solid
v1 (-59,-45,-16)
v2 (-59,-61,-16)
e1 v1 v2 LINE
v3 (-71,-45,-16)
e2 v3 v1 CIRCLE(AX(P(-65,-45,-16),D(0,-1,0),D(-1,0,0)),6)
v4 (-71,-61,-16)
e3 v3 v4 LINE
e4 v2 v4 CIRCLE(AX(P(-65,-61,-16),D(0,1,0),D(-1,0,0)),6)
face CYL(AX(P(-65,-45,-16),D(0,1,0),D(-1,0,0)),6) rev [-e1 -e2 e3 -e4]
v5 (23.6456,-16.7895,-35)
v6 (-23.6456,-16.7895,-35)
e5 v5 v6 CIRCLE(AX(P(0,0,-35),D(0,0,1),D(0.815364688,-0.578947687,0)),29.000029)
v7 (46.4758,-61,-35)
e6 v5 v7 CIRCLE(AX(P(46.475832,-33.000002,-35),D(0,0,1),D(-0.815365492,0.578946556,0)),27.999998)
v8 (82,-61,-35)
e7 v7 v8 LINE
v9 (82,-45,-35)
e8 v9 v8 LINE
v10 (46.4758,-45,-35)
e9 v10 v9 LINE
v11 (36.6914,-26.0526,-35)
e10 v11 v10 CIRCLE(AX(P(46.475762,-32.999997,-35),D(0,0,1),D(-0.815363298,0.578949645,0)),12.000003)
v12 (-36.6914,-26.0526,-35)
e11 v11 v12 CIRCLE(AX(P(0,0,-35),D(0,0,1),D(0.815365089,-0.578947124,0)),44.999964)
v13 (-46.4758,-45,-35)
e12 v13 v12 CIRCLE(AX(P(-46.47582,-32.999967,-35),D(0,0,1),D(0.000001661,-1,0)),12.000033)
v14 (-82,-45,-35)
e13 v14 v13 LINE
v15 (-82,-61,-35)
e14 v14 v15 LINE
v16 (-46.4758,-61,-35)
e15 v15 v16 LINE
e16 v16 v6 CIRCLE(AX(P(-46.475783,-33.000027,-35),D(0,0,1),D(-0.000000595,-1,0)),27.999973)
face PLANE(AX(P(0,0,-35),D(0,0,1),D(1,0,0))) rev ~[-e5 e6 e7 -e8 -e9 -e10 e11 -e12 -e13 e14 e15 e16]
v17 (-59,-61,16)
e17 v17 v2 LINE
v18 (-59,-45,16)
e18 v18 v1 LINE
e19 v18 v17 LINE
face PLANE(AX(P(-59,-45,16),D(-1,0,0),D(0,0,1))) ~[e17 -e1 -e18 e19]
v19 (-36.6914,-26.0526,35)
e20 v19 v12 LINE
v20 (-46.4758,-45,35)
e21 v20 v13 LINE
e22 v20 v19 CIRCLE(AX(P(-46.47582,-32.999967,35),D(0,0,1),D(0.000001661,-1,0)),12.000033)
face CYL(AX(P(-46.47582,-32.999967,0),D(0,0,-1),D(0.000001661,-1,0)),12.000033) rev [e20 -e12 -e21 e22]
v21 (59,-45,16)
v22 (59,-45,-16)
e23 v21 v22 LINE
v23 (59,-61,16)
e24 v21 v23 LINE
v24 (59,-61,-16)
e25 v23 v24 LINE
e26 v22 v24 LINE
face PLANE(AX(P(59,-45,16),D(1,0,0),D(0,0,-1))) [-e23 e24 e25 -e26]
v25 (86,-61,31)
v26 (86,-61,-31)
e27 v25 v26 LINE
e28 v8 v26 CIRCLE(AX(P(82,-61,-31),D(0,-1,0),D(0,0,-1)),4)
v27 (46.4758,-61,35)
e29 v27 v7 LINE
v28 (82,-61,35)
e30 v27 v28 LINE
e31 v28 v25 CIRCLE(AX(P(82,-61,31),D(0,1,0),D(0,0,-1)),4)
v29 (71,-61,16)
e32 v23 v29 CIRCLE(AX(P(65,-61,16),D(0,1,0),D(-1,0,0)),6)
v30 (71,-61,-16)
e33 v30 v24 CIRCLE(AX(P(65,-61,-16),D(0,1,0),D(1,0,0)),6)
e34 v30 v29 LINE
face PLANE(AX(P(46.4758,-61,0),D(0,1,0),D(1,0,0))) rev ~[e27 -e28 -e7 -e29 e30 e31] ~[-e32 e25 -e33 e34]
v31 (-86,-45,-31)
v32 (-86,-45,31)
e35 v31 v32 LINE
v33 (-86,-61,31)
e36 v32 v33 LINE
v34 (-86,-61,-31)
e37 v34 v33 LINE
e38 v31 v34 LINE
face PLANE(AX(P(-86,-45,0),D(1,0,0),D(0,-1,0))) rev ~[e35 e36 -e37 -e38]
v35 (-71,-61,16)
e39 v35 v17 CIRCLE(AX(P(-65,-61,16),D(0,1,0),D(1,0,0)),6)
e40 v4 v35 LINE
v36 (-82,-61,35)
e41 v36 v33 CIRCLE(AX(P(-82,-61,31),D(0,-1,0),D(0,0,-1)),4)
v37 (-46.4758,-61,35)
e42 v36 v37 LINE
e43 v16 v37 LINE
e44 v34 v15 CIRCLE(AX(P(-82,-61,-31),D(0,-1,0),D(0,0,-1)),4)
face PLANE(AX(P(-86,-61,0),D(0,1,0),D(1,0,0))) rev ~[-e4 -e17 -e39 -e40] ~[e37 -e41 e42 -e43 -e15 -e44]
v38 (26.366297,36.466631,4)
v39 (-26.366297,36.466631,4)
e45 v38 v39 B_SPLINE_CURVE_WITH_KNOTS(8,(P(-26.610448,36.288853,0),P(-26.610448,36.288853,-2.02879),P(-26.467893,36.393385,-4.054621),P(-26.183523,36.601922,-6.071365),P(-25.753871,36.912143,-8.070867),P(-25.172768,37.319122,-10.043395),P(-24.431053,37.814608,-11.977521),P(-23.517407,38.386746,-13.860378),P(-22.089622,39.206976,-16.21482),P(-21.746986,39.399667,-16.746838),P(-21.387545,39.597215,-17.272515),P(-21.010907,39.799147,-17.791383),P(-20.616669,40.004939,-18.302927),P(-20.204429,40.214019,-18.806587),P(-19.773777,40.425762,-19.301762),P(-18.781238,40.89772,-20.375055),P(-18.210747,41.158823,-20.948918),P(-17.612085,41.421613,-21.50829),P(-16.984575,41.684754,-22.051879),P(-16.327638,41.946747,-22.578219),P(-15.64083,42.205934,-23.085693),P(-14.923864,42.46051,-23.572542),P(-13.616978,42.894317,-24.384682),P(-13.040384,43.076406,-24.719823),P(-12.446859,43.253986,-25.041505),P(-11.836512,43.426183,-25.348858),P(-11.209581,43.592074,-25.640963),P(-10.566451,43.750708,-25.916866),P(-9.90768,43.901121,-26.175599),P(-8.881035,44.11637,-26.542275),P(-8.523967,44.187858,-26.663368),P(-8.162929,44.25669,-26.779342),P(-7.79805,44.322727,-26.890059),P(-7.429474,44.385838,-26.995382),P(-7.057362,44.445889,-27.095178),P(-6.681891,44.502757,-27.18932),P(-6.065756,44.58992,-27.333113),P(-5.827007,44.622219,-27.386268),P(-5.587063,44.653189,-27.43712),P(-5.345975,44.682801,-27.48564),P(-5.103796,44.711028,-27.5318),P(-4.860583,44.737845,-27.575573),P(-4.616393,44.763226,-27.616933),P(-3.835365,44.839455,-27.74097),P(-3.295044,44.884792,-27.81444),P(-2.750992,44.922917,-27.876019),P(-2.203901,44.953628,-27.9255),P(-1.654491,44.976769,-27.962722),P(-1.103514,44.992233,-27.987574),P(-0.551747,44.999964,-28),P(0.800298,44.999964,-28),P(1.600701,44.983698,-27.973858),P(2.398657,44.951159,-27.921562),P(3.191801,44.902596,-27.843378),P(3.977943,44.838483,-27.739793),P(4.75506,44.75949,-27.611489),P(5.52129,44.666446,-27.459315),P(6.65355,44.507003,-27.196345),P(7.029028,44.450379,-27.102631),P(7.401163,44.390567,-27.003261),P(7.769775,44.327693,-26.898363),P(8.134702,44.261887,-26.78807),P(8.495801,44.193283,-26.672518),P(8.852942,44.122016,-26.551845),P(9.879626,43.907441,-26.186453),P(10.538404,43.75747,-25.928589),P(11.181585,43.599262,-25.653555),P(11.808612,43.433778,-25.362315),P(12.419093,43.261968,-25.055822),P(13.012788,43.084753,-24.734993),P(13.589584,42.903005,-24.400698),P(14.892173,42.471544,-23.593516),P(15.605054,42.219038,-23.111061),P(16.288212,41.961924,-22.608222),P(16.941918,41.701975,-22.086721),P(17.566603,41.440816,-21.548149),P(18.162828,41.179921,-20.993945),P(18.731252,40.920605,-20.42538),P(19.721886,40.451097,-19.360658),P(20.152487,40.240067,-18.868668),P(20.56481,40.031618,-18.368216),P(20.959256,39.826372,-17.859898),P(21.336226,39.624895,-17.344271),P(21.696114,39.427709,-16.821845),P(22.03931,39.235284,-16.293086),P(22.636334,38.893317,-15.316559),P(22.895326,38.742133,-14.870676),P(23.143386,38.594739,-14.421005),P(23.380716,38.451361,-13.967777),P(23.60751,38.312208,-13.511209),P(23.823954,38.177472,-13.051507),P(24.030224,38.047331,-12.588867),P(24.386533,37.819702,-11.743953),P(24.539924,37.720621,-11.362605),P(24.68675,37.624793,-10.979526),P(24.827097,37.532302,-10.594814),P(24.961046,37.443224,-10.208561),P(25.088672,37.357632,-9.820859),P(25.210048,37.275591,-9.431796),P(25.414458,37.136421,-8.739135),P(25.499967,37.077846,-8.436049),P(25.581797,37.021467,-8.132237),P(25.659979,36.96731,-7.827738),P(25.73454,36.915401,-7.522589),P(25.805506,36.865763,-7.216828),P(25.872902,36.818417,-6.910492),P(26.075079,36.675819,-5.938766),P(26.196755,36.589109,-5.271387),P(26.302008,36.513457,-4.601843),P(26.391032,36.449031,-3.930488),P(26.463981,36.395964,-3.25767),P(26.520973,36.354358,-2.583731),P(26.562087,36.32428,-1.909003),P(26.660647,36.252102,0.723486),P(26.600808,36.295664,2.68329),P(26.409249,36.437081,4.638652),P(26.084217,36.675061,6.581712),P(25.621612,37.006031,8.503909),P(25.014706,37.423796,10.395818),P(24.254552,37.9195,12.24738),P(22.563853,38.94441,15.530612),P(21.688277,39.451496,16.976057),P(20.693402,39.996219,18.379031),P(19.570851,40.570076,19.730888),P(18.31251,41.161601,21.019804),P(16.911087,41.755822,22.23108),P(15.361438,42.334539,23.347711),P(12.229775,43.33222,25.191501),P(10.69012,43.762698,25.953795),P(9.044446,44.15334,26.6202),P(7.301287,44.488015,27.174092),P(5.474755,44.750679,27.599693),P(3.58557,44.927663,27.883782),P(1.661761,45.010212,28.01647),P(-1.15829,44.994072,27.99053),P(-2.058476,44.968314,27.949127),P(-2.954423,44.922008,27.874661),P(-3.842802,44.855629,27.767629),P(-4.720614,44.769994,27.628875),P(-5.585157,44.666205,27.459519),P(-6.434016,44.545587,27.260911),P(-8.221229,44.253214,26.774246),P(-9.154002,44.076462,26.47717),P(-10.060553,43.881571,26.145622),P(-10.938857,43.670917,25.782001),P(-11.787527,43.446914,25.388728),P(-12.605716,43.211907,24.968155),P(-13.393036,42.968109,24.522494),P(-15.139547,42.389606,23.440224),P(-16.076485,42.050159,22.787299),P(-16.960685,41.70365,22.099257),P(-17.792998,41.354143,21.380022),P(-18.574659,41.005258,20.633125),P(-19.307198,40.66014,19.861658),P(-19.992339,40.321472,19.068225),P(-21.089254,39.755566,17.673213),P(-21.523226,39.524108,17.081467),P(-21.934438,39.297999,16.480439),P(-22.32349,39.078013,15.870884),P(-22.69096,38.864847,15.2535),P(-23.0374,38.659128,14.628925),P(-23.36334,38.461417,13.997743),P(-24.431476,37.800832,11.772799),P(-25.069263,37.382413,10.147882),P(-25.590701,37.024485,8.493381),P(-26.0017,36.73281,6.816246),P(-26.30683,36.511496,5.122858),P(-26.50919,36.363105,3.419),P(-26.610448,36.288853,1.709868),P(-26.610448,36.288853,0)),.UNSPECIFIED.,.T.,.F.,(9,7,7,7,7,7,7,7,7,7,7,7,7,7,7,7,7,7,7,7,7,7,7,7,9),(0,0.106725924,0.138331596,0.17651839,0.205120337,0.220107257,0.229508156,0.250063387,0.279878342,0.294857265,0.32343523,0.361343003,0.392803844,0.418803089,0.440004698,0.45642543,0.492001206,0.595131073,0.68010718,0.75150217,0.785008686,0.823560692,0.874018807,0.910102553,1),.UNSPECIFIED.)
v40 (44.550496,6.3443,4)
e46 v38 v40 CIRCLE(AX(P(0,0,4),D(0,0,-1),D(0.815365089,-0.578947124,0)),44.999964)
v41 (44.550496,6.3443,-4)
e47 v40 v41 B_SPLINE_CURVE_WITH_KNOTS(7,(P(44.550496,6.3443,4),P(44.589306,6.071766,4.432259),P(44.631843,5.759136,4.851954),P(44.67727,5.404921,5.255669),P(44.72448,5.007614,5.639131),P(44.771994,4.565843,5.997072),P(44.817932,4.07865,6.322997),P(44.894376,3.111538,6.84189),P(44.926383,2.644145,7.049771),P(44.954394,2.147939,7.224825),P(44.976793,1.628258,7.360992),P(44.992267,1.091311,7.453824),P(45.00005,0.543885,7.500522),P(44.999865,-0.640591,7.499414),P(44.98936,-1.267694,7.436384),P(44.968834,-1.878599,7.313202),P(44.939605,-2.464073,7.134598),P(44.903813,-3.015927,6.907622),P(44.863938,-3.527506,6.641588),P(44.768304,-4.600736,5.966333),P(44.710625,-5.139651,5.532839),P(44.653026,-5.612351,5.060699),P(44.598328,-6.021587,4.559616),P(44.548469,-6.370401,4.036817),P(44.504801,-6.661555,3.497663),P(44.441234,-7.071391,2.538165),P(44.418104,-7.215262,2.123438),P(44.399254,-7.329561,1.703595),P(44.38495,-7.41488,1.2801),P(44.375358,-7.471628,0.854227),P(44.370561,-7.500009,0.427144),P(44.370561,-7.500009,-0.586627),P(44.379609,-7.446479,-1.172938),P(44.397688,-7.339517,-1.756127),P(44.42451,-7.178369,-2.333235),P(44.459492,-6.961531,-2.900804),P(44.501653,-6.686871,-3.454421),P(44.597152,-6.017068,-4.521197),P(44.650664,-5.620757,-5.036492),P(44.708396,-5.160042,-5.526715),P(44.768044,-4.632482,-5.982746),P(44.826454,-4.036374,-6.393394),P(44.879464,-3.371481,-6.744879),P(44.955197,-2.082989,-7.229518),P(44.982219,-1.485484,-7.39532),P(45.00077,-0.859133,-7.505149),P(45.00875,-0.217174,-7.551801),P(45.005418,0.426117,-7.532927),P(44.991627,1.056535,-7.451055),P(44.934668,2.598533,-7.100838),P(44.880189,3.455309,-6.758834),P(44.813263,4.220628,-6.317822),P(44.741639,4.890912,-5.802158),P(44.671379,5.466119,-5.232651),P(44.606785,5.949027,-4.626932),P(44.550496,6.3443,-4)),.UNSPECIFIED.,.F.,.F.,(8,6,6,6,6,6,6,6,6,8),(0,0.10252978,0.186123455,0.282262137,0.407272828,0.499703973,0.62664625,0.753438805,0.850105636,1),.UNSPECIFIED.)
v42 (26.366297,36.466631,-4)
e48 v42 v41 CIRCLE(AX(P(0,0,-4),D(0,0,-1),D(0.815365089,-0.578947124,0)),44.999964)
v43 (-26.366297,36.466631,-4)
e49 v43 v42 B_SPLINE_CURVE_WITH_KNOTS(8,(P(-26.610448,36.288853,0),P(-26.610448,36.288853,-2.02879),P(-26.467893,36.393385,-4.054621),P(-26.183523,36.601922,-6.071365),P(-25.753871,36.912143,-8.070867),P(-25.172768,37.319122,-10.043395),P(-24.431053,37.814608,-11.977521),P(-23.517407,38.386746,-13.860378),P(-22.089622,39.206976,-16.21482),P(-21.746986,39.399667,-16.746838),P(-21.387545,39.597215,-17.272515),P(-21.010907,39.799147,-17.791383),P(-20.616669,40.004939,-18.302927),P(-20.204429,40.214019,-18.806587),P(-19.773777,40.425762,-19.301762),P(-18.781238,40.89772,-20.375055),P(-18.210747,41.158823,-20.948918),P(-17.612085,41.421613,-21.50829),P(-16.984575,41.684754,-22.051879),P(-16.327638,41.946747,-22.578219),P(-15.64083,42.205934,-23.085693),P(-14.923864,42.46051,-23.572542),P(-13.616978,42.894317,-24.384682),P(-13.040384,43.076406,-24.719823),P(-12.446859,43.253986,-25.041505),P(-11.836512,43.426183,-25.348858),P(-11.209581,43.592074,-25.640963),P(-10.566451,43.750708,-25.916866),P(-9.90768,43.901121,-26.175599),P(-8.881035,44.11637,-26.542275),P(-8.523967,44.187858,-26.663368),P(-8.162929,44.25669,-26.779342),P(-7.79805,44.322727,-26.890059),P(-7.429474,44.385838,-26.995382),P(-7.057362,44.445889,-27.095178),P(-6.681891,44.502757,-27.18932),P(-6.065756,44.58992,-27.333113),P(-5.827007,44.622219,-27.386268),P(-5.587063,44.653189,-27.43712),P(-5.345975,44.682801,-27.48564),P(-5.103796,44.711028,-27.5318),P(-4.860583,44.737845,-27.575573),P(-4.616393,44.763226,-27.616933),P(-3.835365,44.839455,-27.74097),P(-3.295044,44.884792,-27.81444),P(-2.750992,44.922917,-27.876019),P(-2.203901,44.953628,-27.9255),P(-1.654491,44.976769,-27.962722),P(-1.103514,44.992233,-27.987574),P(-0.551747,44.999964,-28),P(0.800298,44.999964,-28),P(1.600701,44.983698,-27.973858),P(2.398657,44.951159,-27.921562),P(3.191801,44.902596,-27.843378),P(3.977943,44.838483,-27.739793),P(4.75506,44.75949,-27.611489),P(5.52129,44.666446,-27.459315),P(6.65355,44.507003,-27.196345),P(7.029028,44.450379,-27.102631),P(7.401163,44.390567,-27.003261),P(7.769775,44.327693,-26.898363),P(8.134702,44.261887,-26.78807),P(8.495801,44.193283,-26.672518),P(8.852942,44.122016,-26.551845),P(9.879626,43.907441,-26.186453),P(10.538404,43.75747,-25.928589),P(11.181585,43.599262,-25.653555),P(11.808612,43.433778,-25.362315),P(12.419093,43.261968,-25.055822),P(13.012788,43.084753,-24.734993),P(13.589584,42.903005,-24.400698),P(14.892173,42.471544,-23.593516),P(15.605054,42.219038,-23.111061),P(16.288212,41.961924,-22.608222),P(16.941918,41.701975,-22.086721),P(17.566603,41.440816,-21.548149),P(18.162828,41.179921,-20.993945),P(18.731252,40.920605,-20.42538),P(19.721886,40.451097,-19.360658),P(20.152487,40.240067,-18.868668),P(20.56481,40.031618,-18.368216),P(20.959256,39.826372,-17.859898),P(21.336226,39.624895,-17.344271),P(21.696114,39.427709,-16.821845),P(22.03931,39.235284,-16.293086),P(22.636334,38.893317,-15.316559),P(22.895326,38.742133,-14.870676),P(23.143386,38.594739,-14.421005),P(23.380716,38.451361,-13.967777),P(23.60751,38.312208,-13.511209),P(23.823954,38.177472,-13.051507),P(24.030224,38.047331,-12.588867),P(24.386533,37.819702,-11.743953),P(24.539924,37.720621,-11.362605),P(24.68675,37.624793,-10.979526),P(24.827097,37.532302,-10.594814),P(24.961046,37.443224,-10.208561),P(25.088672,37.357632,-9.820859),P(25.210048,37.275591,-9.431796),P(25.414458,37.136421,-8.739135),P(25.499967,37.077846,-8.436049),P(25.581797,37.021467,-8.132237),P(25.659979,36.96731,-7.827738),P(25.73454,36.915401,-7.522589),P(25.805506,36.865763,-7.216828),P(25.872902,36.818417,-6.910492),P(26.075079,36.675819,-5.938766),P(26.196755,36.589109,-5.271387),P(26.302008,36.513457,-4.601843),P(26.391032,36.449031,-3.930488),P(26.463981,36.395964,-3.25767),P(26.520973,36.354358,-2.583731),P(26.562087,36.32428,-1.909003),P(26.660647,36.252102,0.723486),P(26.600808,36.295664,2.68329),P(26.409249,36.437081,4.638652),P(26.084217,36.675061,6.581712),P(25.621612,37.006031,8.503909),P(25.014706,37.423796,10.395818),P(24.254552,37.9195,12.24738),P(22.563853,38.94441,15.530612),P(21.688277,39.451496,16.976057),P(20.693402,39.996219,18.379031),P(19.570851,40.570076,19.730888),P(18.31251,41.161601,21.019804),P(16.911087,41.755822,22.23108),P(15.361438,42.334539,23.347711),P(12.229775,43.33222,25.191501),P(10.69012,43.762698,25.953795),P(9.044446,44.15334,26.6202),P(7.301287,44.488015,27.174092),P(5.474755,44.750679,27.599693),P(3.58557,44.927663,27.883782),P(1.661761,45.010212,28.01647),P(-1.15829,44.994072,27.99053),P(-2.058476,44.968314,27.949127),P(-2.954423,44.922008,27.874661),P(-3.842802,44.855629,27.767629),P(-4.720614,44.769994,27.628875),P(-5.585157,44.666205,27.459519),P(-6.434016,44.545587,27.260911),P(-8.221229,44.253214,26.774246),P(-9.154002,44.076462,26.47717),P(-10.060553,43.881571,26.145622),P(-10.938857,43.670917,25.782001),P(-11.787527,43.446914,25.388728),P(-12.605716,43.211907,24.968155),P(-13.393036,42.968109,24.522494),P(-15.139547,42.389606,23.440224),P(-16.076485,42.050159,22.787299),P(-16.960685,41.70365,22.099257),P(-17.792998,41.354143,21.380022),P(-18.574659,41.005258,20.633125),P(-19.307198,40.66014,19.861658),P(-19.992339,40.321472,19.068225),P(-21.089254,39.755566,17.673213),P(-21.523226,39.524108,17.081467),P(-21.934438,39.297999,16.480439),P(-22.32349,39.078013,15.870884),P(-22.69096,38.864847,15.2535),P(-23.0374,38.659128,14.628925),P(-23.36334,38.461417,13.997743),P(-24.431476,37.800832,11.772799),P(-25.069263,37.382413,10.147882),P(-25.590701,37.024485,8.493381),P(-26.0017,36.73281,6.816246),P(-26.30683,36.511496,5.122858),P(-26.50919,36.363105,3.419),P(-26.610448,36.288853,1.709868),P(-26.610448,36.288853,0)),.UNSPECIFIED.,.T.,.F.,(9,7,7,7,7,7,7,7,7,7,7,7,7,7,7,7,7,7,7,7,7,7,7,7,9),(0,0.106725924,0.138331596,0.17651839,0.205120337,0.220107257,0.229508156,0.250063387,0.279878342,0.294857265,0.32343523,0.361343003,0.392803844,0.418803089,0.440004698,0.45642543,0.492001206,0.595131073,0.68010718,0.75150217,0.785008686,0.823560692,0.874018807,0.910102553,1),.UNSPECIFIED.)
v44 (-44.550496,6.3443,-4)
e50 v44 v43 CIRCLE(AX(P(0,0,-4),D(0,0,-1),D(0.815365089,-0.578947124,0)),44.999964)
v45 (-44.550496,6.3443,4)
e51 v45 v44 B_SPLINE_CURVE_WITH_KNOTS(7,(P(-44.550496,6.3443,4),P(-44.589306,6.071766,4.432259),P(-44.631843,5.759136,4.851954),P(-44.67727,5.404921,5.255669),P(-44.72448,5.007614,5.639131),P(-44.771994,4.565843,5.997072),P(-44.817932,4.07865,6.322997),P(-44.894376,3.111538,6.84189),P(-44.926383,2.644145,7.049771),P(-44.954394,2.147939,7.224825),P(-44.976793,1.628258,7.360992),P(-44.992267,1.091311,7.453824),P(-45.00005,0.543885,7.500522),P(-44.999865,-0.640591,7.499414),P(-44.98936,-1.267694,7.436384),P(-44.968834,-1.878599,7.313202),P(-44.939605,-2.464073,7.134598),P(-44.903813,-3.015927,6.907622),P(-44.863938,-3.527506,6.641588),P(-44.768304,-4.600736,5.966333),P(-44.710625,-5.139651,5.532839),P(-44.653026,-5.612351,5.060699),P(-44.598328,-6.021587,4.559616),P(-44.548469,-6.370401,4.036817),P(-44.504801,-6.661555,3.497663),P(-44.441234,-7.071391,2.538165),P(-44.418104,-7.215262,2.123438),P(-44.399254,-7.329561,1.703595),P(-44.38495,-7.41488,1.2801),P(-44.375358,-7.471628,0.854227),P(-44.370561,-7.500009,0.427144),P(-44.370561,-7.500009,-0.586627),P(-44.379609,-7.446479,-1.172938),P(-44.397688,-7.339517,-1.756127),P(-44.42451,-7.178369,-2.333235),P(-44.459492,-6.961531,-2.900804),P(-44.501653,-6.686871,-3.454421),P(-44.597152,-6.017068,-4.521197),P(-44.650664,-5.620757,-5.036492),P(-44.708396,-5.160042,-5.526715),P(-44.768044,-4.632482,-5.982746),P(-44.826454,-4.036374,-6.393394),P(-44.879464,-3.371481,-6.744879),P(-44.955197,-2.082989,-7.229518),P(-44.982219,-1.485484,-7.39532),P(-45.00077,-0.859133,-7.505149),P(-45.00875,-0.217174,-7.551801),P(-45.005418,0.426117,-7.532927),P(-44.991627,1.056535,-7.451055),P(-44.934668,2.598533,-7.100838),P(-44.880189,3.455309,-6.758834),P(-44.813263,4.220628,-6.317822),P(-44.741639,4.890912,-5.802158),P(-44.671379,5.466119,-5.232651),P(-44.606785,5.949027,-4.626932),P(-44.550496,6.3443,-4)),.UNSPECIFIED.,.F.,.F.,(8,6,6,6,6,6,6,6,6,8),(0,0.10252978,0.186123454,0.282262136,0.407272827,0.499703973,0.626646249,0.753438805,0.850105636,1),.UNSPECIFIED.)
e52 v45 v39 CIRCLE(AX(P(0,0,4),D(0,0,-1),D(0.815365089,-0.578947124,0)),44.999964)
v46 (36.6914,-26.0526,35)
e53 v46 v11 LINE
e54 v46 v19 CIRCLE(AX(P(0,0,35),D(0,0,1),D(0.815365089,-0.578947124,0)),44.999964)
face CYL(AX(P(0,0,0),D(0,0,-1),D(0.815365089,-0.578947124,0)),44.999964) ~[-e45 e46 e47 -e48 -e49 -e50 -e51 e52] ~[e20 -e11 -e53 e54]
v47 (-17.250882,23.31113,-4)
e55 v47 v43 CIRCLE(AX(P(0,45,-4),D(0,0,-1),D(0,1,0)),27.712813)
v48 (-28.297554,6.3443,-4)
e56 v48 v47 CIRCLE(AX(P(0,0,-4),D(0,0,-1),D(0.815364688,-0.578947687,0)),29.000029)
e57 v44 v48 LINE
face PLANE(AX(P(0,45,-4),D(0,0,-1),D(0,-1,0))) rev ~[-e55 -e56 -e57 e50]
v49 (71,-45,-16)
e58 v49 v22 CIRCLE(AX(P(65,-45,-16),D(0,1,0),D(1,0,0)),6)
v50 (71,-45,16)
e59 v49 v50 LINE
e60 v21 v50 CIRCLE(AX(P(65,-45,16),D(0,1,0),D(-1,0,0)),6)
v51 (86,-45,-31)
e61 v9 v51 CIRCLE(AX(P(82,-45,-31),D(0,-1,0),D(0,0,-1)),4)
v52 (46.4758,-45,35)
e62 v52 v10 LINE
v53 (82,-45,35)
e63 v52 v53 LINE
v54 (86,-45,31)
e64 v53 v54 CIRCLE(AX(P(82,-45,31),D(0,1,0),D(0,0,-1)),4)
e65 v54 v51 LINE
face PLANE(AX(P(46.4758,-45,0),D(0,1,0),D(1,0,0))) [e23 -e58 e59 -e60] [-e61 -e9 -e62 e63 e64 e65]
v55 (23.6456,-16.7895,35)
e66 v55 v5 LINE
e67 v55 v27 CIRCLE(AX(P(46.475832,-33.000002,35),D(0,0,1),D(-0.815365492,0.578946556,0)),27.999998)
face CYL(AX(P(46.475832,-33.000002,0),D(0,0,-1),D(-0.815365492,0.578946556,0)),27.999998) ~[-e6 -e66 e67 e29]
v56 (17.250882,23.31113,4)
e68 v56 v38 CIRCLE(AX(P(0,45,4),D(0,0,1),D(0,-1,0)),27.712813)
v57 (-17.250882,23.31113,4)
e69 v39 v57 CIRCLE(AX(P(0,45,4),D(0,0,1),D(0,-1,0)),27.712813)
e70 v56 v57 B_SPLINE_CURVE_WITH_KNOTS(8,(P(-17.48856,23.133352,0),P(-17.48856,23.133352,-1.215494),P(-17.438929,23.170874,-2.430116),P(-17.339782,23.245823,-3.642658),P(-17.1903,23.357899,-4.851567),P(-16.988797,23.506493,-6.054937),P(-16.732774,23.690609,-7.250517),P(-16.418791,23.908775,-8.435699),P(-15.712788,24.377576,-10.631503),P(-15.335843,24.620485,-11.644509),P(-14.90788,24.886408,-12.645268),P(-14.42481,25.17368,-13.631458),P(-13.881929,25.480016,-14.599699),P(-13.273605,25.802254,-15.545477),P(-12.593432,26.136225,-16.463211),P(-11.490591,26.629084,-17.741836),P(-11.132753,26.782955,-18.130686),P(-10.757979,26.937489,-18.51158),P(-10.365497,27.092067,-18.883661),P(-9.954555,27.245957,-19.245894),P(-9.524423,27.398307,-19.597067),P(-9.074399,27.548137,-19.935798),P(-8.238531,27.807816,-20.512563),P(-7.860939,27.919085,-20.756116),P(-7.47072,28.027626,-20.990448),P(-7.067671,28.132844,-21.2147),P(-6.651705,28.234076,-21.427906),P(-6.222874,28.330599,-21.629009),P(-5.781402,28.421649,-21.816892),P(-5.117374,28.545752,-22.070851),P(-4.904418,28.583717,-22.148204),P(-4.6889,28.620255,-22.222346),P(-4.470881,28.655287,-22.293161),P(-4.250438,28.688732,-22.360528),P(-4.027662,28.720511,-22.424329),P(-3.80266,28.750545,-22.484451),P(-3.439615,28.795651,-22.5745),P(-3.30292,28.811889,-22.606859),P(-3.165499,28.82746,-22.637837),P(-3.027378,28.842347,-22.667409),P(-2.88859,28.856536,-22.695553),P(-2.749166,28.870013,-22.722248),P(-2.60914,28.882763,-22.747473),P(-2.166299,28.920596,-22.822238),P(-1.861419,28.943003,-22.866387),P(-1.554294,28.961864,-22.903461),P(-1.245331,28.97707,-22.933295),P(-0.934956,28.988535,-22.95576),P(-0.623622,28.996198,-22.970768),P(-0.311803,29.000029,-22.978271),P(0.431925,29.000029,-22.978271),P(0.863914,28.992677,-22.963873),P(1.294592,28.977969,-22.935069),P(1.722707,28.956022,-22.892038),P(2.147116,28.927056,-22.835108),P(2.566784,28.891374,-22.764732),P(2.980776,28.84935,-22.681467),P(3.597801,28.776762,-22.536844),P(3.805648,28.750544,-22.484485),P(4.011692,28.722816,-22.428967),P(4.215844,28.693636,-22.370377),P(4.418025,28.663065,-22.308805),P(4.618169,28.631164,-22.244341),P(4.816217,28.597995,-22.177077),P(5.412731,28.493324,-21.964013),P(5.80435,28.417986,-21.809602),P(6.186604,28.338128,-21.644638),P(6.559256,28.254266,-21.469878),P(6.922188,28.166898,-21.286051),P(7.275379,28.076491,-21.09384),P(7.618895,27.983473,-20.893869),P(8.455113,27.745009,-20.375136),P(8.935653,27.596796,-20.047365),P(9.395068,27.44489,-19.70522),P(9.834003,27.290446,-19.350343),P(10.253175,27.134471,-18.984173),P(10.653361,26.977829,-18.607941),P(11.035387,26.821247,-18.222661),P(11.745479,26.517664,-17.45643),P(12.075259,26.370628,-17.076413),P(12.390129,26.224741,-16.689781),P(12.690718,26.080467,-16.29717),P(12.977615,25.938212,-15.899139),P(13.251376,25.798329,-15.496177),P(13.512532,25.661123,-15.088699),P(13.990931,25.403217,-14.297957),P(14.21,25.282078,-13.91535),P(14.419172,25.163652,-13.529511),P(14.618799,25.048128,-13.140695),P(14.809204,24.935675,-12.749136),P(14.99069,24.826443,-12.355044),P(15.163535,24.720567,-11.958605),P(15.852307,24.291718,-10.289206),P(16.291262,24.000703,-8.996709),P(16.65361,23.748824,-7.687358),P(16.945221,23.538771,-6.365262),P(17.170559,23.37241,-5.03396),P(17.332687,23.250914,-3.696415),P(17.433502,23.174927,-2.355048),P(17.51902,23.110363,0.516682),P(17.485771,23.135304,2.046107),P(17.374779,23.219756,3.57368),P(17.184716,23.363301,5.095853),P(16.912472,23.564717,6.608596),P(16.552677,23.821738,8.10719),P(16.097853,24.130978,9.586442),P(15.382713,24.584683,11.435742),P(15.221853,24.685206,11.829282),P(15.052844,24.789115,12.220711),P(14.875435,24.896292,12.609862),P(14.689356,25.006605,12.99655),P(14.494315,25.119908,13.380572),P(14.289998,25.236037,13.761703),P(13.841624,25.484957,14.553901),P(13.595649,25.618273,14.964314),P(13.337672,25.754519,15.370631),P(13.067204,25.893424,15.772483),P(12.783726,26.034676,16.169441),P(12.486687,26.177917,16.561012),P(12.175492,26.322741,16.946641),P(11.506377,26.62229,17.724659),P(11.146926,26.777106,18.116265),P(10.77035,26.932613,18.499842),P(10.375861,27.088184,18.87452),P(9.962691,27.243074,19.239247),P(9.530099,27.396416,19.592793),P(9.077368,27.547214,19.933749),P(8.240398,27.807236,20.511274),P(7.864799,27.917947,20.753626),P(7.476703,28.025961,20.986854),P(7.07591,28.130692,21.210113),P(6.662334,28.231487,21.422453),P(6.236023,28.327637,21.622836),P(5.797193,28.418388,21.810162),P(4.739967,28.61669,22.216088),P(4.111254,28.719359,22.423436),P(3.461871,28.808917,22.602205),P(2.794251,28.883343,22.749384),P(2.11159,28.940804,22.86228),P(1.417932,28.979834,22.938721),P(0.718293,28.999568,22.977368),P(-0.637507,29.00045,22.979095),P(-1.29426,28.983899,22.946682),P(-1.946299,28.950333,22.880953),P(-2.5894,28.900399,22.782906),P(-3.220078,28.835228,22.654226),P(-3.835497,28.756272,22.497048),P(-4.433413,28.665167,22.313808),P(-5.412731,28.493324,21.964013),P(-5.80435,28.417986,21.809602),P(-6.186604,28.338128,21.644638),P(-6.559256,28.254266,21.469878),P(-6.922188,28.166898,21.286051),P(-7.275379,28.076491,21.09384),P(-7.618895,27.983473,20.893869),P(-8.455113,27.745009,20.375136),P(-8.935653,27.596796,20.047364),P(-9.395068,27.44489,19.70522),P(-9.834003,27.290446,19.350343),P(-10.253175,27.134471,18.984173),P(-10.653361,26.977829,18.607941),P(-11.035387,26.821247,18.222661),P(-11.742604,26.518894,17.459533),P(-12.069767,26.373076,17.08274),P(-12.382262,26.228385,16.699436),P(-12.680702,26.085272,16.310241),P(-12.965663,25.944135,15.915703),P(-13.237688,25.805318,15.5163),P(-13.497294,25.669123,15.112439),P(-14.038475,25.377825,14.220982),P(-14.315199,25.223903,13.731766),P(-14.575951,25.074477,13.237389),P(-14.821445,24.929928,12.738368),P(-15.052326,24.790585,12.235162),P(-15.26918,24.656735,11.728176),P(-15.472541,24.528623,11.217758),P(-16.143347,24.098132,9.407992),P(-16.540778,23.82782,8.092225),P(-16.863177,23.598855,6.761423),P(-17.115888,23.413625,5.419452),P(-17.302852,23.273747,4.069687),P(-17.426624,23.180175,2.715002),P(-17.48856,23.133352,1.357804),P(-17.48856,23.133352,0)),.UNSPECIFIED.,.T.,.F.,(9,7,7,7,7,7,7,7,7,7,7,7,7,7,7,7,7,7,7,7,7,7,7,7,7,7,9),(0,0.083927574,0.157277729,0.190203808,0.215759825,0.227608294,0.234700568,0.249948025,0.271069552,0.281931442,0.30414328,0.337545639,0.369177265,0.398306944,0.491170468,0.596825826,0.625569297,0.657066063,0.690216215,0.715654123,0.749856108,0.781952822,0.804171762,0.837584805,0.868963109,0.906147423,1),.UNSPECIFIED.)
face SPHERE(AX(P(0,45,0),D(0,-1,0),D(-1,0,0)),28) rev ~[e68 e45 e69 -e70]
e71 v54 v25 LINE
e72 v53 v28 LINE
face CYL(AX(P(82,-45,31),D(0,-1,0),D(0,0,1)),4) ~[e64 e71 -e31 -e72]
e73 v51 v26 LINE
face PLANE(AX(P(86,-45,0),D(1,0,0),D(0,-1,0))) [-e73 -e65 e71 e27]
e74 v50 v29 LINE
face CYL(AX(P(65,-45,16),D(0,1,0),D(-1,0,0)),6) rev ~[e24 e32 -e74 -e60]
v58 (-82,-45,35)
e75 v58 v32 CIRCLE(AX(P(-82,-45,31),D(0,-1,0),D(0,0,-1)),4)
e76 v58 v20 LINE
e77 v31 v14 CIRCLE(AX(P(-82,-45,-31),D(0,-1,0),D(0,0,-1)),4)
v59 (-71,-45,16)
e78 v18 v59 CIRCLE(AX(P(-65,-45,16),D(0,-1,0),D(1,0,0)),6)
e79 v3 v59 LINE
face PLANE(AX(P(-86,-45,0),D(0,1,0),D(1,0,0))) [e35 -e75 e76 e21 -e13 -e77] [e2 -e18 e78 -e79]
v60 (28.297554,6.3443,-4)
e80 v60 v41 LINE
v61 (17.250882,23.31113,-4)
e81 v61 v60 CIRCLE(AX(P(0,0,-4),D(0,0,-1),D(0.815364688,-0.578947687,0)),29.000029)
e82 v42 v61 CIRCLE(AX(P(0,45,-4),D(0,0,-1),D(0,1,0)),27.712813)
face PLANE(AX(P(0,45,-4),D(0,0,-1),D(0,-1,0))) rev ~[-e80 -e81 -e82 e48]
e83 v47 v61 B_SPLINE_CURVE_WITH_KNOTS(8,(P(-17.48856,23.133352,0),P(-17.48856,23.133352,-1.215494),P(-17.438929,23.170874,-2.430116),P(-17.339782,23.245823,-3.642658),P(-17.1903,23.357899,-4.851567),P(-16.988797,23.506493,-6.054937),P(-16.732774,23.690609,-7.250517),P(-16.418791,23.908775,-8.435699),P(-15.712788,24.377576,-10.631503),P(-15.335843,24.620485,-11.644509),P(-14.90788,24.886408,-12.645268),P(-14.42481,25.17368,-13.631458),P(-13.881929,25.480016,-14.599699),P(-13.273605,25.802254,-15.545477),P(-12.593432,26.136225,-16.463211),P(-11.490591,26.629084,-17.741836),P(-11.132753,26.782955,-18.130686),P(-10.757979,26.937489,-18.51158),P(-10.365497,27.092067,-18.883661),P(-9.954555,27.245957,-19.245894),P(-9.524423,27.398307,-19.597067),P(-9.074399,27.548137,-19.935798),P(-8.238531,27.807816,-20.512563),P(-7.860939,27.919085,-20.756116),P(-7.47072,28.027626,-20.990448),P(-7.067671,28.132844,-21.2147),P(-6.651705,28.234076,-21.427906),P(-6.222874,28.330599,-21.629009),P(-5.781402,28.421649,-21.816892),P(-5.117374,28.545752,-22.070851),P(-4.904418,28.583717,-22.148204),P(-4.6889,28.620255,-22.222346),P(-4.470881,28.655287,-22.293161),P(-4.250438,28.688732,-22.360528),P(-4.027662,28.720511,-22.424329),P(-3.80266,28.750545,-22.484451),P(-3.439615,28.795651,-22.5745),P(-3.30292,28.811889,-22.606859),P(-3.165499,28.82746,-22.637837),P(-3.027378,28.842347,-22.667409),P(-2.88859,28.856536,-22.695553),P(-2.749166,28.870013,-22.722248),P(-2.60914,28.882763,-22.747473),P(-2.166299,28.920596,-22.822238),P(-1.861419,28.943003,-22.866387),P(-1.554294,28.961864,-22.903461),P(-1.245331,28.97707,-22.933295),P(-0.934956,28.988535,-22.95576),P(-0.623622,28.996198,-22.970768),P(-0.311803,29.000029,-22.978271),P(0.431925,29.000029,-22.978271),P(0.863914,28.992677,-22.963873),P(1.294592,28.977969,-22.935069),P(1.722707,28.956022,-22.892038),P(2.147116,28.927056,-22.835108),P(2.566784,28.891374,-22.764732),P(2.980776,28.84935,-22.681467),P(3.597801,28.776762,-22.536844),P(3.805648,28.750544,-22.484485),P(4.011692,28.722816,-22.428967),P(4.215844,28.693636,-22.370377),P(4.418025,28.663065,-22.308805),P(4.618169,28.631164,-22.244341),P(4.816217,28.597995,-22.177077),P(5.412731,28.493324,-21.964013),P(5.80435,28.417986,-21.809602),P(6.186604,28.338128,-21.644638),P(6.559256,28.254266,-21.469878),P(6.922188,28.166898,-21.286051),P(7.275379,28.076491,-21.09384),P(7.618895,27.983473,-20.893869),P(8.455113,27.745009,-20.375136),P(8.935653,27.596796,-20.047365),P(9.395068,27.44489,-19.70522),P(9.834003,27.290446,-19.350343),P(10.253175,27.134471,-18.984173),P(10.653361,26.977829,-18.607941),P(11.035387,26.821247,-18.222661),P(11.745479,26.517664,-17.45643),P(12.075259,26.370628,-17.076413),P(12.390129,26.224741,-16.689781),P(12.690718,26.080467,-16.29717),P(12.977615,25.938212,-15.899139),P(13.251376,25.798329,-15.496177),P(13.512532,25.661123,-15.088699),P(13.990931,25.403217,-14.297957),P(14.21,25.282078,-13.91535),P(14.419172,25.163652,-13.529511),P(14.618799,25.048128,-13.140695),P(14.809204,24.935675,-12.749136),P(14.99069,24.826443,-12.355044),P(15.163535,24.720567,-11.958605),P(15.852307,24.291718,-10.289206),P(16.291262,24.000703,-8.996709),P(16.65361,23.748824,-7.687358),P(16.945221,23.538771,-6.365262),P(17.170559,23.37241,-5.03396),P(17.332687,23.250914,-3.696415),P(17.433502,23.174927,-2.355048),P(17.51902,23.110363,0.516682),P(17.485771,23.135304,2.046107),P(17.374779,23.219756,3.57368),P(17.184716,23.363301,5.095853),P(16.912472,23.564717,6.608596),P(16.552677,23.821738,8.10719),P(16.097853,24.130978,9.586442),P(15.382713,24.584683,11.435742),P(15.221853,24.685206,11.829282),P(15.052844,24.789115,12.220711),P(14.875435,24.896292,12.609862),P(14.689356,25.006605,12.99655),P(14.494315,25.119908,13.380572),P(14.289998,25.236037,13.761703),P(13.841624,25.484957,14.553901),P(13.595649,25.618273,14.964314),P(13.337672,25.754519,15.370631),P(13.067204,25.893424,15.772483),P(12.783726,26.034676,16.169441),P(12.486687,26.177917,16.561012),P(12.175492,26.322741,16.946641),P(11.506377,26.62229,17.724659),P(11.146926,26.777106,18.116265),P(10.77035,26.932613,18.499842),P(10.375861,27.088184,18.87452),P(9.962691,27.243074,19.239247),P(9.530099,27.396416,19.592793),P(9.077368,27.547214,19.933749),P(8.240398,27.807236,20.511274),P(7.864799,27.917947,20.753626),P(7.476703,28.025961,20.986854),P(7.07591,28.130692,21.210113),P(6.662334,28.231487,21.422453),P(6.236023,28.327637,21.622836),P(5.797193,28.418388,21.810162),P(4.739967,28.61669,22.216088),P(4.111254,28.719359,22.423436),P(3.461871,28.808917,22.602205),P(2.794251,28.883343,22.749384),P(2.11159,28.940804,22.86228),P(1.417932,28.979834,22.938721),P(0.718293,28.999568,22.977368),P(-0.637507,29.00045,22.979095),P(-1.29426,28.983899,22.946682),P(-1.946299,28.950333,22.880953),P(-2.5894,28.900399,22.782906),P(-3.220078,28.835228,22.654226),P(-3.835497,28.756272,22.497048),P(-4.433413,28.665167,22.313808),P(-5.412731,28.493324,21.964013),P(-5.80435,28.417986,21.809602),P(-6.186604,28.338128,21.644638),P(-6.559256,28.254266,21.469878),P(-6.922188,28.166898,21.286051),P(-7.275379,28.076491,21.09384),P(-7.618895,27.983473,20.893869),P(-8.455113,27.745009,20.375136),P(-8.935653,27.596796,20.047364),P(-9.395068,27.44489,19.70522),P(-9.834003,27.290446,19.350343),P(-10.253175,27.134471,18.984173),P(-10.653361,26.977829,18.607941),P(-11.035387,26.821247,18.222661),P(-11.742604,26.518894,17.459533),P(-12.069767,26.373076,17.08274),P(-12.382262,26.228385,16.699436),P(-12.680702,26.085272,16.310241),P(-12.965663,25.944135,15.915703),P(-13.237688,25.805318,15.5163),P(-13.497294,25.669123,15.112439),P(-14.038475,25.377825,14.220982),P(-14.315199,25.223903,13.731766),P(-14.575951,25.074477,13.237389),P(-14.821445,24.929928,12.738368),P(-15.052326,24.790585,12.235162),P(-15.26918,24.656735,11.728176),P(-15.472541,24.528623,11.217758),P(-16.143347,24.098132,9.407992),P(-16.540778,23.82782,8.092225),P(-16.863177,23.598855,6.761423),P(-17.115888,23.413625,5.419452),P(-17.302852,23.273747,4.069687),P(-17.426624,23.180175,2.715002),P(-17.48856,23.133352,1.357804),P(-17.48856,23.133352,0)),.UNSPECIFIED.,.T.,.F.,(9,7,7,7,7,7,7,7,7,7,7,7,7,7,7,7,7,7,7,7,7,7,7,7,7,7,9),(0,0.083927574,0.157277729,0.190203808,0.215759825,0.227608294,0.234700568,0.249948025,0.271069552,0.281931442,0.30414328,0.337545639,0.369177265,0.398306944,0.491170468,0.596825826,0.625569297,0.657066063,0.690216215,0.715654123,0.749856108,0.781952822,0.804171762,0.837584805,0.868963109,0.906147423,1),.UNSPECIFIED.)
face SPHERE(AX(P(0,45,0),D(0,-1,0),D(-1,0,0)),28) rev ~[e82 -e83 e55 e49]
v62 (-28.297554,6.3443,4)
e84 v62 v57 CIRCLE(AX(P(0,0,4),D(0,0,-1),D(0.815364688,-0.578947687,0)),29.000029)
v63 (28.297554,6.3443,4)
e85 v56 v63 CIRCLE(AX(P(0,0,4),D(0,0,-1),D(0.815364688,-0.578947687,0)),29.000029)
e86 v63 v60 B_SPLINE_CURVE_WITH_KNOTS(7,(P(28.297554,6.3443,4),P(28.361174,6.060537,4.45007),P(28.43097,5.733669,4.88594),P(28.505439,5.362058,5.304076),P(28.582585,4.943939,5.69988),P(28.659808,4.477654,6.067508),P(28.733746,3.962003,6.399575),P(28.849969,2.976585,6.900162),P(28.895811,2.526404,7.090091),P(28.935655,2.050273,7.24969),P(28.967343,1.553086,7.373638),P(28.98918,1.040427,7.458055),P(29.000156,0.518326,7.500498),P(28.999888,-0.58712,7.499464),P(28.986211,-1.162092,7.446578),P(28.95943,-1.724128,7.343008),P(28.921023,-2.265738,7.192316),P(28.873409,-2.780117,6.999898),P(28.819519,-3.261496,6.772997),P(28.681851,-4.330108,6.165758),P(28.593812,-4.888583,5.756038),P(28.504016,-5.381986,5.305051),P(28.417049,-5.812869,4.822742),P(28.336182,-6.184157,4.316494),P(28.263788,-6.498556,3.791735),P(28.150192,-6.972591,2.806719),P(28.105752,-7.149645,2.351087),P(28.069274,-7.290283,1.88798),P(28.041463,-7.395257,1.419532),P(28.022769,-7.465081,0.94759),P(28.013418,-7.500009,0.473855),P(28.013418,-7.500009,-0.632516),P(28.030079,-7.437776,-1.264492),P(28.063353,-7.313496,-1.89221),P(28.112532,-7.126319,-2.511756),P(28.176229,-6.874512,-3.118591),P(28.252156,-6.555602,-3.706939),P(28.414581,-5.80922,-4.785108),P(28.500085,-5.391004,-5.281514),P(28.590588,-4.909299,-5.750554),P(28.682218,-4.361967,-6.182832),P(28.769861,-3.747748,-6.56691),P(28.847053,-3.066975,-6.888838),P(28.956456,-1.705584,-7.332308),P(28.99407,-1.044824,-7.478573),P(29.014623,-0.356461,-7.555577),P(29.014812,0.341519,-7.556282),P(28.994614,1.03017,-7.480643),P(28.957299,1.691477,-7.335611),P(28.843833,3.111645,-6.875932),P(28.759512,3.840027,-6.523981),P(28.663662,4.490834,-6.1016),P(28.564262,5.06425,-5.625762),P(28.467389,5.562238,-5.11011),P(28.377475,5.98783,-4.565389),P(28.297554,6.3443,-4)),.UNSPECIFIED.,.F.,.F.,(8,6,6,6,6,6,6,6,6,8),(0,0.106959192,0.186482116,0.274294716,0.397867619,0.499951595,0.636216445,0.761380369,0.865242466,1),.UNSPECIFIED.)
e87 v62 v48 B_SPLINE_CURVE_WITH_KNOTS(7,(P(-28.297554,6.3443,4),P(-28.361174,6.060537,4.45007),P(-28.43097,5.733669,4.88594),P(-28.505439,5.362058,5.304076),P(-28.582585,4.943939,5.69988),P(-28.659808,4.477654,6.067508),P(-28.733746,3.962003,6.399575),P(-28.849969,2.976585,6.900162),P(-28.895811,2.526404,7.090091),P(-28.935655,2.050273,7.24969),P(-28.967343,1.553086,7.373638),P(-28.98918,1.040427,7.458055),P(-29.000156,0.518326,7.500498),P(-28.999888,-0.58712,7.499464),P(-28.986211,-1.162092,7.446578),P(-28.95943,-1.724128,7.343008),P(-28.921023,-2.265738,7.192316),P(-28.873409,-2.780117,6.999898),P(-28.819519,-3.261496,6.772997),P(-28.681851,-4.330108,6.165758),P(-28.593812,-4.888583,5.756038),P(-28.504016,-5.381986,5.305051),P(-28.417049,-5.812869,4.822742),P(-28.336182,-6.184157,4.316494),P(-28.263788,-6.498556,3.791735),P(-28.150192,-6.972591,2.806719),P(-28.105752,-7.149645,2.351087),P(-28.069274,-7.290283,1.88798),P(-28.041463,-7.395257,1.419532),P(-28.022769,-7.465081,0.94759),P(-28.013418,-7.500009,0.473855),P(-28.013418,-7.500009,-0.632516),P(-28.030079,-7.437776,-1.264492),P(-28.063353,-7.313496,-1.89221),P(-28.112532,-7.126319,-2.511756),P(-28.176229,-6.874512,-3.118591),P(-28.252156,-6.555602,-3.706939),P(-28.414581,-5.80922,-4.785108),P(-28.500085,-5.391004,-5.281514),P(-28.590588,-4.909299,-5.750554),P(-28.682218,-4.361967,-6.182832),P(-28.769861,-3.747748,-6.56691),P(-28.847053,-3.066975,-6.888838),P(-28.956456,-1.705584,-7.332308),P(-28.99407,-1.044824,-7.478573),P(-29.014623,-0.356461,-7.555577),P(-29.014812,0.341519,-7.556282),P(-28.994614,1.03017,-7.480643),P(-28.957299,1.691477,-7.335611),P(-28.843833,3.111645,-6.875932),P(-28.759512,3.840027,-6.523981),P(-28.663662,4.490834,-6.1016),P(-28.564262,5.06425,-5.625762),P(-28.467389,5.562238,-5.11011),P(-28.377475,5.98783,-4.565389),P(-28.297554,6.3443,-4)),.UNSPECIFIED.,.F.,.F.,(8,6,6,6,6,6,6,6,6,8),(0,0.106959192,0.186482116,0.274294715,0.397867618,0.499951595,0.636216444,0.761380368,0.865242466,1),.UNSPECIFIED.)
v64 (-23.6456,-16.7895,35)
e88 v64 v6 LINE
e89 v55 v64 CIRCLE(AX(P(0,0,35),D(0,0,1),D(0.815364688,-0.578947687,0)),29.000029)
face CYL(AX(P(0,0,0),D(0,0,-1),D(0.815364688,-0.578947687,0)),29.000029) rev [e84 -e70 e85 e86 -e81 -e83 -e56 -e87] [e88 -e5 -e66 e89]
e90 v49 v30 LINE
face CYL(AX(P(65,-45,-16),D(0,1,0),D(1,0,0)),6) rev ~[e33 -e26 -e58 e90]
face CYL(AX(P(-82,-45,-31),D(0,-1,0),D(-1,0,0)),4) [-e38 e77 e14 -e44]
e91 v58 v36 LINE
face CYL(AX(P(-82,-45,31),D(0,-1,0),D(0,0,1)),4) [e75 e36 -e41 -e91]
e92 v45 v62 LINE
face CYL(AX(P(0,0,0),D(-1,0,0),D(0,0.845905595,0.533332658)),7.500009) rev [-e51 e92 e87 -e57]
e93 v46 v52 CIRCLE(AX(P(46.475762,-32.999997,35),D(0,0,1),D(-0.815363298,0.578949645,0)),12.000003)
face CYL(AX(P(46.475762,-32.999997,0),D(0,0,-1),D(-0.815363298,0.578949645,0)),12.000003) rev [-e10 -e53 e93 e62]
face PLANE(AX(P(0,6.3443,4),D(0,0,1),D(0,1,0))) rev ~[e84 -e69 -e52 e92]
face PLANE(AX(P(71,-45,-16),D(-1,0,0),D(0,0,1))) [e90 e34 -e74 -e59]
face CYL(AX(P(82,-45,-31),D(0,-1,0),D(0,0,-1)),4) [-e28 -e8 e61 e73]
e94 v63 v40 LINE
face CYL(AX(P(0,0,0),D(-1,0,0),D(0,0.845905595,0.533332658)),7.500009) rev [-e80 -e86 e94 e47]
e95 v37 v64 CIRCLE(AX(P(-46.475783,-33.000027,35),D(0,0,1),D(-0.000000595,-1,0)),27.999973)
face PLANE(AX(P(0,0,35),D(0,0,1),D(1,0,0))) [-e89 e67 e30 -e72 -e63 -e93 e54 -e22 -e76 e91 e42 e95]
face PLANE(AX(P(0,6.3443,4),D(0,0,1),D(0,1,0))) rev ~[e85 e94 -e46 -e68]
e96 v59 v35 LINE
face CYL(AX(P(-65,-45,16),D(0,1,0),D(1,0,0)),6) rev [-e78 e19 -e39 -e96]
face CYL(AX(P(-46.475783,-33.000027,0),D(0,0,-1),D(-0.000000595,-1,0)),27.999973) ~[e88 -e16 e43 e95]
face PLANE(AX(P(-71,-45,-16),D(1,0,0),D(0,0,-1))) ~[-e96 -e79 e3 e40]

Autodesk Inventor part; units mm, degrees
ref_plane "YZ Plane" through (0, 0, 0) normal (1, 0, 0) x (0, 1, 0)
ref_plane "XZ Plane" through (0, 0, 0) normal (0, 1, 0) x (-1, 0, 0)
ref_plane "XY Plane" through (0, 0, 0) normal (0, 0, 1) x (1, 0, 0)
sketch "Sketch1" plane through (0, 0, 0) normal (0, 0, 1) x (1, 0, 0)
  line L0 (-86, -45) -> (-46.4758, -45)
  arc A0 (-46.4758, -45) -> (-36.6914, -26.0526) centre (-46.4758, -33) ccw
  arc A1 (36.6914, -26.0526) -> (-36.6914, -26.0526) centre (0, 0) ccw
  arc A2 (36.6914, -26.0526) -> (46.4758, -45) centre (46.4758, -33) ccw
  line L1 (46.4758, -45) -> (86, -45)
  line L2 (0, -90.5431) -> (0, 67.5905) construction
  line L3 (-86, -61) -> (-46.4758, -61)
  arc A3 (-46.4758, -61) -> (-23.6456, -16.7895) centre (-46.4758, -33) ccw
  arc A4 (23.6456, -16.7895) -> (-23.6456, -16.7895) centre (0, 0) ccw
  arc A5 (23.6456, -16.7895) -> (46.4758, -61) centre (46.4758, -33) ccw
  line L4 (46.4758, -61) -> (86, -61)
  line L5 (-86, -45) -> (-86, -61)
  line L6 (86, -45) -> (86, -61)
  dimension "d0" = 90
  dimension "d1" = 12
  dimension "d2" = 45
  dimension "d3" = 172
  dimension "d4" = 16
extrude "Extrusion1" add sketch "Sketch1" along normal mid plane 70
sketch "Sketch2" plane through (0, 0, 0) normal (1, 0, 0) x (0, 1, 0)
  arc A0 (6.3443, 4) -> (6.3443, -4) centre (0, 0) ccw
  line L0 (6.3443, 4) -> (45, 4)
  line L1 (45, 4) -> (45, -4)
  line L2 (45, -4) -> (6.3443, -4)
  line L3 (45, -35) -> (45, 35) projected
  dimension "d7" = 15
  dimension "d8" = 8
extrude "Extrusion2" cut sketch "Sketch2" along normal through all both and the other way through all
sketch "Sketch3" plane through (0, 0, 0) normal (0, 0, 1) x (1, 0, 0)
  arc A0 (0, 73) -> (0, 17) centre (0, 45) ccw
  line L0 (-86, -61) -> (-46.4758, -61) projected
  line L1 (0, 73) -> (0, 17)
  arc A1 (44.5505, 6.3443) -> (-44.5505, 6.3443) centre (0, 0) ccw projected
  point P0 (-66.2379, -61)
  point P1 (0, 45)
  dimension "d11" = 28
  dimension "d12" = 106
revolve "Revolution1" cut sketch "Sketch3" angle 360 about axis through (0, 73, 0) along (0, -1, 0)
sketch "Sketch4" plane through (46.4758, -45, 35) normal (0, 1, 0) x (1, 0, 0)
  line L0 (18.5242, 19) -> (18.5242, 51) construction
  line L1 (12.5242, 19) -> (12.5242, 51)
  line L2 (24.5242, 51) -> (24.5242, 19)
  arc A0 (12.5242, 19) -> (24.5242, 19) centre (18.5242, 19) ccw
  arc A1 (24.5242, 51) -> (12.5242, 51) centre (18.5242, 51) ccw
  point P0 (-46.4758, 35)
  point P1 (18.5242, 35)
  dimension "d14" = 6
  dimension "d15" = 32
  dimension "d16" = 65
extrude "Extrusion3" cut sketch "Sketch4" against normal through all
mirror "Mirror1" about plane through (0, 0, 0) normal (1, 0, 0) of "Extrusion3"
fillet "Fillet1" radius 4 4 edges at (-86, -53, 35) (-86, -53, -35) (86, -53, 35) (86, -53, -35)
properties part number "Part013. Fulcrum" material "Steel, Carbon"
